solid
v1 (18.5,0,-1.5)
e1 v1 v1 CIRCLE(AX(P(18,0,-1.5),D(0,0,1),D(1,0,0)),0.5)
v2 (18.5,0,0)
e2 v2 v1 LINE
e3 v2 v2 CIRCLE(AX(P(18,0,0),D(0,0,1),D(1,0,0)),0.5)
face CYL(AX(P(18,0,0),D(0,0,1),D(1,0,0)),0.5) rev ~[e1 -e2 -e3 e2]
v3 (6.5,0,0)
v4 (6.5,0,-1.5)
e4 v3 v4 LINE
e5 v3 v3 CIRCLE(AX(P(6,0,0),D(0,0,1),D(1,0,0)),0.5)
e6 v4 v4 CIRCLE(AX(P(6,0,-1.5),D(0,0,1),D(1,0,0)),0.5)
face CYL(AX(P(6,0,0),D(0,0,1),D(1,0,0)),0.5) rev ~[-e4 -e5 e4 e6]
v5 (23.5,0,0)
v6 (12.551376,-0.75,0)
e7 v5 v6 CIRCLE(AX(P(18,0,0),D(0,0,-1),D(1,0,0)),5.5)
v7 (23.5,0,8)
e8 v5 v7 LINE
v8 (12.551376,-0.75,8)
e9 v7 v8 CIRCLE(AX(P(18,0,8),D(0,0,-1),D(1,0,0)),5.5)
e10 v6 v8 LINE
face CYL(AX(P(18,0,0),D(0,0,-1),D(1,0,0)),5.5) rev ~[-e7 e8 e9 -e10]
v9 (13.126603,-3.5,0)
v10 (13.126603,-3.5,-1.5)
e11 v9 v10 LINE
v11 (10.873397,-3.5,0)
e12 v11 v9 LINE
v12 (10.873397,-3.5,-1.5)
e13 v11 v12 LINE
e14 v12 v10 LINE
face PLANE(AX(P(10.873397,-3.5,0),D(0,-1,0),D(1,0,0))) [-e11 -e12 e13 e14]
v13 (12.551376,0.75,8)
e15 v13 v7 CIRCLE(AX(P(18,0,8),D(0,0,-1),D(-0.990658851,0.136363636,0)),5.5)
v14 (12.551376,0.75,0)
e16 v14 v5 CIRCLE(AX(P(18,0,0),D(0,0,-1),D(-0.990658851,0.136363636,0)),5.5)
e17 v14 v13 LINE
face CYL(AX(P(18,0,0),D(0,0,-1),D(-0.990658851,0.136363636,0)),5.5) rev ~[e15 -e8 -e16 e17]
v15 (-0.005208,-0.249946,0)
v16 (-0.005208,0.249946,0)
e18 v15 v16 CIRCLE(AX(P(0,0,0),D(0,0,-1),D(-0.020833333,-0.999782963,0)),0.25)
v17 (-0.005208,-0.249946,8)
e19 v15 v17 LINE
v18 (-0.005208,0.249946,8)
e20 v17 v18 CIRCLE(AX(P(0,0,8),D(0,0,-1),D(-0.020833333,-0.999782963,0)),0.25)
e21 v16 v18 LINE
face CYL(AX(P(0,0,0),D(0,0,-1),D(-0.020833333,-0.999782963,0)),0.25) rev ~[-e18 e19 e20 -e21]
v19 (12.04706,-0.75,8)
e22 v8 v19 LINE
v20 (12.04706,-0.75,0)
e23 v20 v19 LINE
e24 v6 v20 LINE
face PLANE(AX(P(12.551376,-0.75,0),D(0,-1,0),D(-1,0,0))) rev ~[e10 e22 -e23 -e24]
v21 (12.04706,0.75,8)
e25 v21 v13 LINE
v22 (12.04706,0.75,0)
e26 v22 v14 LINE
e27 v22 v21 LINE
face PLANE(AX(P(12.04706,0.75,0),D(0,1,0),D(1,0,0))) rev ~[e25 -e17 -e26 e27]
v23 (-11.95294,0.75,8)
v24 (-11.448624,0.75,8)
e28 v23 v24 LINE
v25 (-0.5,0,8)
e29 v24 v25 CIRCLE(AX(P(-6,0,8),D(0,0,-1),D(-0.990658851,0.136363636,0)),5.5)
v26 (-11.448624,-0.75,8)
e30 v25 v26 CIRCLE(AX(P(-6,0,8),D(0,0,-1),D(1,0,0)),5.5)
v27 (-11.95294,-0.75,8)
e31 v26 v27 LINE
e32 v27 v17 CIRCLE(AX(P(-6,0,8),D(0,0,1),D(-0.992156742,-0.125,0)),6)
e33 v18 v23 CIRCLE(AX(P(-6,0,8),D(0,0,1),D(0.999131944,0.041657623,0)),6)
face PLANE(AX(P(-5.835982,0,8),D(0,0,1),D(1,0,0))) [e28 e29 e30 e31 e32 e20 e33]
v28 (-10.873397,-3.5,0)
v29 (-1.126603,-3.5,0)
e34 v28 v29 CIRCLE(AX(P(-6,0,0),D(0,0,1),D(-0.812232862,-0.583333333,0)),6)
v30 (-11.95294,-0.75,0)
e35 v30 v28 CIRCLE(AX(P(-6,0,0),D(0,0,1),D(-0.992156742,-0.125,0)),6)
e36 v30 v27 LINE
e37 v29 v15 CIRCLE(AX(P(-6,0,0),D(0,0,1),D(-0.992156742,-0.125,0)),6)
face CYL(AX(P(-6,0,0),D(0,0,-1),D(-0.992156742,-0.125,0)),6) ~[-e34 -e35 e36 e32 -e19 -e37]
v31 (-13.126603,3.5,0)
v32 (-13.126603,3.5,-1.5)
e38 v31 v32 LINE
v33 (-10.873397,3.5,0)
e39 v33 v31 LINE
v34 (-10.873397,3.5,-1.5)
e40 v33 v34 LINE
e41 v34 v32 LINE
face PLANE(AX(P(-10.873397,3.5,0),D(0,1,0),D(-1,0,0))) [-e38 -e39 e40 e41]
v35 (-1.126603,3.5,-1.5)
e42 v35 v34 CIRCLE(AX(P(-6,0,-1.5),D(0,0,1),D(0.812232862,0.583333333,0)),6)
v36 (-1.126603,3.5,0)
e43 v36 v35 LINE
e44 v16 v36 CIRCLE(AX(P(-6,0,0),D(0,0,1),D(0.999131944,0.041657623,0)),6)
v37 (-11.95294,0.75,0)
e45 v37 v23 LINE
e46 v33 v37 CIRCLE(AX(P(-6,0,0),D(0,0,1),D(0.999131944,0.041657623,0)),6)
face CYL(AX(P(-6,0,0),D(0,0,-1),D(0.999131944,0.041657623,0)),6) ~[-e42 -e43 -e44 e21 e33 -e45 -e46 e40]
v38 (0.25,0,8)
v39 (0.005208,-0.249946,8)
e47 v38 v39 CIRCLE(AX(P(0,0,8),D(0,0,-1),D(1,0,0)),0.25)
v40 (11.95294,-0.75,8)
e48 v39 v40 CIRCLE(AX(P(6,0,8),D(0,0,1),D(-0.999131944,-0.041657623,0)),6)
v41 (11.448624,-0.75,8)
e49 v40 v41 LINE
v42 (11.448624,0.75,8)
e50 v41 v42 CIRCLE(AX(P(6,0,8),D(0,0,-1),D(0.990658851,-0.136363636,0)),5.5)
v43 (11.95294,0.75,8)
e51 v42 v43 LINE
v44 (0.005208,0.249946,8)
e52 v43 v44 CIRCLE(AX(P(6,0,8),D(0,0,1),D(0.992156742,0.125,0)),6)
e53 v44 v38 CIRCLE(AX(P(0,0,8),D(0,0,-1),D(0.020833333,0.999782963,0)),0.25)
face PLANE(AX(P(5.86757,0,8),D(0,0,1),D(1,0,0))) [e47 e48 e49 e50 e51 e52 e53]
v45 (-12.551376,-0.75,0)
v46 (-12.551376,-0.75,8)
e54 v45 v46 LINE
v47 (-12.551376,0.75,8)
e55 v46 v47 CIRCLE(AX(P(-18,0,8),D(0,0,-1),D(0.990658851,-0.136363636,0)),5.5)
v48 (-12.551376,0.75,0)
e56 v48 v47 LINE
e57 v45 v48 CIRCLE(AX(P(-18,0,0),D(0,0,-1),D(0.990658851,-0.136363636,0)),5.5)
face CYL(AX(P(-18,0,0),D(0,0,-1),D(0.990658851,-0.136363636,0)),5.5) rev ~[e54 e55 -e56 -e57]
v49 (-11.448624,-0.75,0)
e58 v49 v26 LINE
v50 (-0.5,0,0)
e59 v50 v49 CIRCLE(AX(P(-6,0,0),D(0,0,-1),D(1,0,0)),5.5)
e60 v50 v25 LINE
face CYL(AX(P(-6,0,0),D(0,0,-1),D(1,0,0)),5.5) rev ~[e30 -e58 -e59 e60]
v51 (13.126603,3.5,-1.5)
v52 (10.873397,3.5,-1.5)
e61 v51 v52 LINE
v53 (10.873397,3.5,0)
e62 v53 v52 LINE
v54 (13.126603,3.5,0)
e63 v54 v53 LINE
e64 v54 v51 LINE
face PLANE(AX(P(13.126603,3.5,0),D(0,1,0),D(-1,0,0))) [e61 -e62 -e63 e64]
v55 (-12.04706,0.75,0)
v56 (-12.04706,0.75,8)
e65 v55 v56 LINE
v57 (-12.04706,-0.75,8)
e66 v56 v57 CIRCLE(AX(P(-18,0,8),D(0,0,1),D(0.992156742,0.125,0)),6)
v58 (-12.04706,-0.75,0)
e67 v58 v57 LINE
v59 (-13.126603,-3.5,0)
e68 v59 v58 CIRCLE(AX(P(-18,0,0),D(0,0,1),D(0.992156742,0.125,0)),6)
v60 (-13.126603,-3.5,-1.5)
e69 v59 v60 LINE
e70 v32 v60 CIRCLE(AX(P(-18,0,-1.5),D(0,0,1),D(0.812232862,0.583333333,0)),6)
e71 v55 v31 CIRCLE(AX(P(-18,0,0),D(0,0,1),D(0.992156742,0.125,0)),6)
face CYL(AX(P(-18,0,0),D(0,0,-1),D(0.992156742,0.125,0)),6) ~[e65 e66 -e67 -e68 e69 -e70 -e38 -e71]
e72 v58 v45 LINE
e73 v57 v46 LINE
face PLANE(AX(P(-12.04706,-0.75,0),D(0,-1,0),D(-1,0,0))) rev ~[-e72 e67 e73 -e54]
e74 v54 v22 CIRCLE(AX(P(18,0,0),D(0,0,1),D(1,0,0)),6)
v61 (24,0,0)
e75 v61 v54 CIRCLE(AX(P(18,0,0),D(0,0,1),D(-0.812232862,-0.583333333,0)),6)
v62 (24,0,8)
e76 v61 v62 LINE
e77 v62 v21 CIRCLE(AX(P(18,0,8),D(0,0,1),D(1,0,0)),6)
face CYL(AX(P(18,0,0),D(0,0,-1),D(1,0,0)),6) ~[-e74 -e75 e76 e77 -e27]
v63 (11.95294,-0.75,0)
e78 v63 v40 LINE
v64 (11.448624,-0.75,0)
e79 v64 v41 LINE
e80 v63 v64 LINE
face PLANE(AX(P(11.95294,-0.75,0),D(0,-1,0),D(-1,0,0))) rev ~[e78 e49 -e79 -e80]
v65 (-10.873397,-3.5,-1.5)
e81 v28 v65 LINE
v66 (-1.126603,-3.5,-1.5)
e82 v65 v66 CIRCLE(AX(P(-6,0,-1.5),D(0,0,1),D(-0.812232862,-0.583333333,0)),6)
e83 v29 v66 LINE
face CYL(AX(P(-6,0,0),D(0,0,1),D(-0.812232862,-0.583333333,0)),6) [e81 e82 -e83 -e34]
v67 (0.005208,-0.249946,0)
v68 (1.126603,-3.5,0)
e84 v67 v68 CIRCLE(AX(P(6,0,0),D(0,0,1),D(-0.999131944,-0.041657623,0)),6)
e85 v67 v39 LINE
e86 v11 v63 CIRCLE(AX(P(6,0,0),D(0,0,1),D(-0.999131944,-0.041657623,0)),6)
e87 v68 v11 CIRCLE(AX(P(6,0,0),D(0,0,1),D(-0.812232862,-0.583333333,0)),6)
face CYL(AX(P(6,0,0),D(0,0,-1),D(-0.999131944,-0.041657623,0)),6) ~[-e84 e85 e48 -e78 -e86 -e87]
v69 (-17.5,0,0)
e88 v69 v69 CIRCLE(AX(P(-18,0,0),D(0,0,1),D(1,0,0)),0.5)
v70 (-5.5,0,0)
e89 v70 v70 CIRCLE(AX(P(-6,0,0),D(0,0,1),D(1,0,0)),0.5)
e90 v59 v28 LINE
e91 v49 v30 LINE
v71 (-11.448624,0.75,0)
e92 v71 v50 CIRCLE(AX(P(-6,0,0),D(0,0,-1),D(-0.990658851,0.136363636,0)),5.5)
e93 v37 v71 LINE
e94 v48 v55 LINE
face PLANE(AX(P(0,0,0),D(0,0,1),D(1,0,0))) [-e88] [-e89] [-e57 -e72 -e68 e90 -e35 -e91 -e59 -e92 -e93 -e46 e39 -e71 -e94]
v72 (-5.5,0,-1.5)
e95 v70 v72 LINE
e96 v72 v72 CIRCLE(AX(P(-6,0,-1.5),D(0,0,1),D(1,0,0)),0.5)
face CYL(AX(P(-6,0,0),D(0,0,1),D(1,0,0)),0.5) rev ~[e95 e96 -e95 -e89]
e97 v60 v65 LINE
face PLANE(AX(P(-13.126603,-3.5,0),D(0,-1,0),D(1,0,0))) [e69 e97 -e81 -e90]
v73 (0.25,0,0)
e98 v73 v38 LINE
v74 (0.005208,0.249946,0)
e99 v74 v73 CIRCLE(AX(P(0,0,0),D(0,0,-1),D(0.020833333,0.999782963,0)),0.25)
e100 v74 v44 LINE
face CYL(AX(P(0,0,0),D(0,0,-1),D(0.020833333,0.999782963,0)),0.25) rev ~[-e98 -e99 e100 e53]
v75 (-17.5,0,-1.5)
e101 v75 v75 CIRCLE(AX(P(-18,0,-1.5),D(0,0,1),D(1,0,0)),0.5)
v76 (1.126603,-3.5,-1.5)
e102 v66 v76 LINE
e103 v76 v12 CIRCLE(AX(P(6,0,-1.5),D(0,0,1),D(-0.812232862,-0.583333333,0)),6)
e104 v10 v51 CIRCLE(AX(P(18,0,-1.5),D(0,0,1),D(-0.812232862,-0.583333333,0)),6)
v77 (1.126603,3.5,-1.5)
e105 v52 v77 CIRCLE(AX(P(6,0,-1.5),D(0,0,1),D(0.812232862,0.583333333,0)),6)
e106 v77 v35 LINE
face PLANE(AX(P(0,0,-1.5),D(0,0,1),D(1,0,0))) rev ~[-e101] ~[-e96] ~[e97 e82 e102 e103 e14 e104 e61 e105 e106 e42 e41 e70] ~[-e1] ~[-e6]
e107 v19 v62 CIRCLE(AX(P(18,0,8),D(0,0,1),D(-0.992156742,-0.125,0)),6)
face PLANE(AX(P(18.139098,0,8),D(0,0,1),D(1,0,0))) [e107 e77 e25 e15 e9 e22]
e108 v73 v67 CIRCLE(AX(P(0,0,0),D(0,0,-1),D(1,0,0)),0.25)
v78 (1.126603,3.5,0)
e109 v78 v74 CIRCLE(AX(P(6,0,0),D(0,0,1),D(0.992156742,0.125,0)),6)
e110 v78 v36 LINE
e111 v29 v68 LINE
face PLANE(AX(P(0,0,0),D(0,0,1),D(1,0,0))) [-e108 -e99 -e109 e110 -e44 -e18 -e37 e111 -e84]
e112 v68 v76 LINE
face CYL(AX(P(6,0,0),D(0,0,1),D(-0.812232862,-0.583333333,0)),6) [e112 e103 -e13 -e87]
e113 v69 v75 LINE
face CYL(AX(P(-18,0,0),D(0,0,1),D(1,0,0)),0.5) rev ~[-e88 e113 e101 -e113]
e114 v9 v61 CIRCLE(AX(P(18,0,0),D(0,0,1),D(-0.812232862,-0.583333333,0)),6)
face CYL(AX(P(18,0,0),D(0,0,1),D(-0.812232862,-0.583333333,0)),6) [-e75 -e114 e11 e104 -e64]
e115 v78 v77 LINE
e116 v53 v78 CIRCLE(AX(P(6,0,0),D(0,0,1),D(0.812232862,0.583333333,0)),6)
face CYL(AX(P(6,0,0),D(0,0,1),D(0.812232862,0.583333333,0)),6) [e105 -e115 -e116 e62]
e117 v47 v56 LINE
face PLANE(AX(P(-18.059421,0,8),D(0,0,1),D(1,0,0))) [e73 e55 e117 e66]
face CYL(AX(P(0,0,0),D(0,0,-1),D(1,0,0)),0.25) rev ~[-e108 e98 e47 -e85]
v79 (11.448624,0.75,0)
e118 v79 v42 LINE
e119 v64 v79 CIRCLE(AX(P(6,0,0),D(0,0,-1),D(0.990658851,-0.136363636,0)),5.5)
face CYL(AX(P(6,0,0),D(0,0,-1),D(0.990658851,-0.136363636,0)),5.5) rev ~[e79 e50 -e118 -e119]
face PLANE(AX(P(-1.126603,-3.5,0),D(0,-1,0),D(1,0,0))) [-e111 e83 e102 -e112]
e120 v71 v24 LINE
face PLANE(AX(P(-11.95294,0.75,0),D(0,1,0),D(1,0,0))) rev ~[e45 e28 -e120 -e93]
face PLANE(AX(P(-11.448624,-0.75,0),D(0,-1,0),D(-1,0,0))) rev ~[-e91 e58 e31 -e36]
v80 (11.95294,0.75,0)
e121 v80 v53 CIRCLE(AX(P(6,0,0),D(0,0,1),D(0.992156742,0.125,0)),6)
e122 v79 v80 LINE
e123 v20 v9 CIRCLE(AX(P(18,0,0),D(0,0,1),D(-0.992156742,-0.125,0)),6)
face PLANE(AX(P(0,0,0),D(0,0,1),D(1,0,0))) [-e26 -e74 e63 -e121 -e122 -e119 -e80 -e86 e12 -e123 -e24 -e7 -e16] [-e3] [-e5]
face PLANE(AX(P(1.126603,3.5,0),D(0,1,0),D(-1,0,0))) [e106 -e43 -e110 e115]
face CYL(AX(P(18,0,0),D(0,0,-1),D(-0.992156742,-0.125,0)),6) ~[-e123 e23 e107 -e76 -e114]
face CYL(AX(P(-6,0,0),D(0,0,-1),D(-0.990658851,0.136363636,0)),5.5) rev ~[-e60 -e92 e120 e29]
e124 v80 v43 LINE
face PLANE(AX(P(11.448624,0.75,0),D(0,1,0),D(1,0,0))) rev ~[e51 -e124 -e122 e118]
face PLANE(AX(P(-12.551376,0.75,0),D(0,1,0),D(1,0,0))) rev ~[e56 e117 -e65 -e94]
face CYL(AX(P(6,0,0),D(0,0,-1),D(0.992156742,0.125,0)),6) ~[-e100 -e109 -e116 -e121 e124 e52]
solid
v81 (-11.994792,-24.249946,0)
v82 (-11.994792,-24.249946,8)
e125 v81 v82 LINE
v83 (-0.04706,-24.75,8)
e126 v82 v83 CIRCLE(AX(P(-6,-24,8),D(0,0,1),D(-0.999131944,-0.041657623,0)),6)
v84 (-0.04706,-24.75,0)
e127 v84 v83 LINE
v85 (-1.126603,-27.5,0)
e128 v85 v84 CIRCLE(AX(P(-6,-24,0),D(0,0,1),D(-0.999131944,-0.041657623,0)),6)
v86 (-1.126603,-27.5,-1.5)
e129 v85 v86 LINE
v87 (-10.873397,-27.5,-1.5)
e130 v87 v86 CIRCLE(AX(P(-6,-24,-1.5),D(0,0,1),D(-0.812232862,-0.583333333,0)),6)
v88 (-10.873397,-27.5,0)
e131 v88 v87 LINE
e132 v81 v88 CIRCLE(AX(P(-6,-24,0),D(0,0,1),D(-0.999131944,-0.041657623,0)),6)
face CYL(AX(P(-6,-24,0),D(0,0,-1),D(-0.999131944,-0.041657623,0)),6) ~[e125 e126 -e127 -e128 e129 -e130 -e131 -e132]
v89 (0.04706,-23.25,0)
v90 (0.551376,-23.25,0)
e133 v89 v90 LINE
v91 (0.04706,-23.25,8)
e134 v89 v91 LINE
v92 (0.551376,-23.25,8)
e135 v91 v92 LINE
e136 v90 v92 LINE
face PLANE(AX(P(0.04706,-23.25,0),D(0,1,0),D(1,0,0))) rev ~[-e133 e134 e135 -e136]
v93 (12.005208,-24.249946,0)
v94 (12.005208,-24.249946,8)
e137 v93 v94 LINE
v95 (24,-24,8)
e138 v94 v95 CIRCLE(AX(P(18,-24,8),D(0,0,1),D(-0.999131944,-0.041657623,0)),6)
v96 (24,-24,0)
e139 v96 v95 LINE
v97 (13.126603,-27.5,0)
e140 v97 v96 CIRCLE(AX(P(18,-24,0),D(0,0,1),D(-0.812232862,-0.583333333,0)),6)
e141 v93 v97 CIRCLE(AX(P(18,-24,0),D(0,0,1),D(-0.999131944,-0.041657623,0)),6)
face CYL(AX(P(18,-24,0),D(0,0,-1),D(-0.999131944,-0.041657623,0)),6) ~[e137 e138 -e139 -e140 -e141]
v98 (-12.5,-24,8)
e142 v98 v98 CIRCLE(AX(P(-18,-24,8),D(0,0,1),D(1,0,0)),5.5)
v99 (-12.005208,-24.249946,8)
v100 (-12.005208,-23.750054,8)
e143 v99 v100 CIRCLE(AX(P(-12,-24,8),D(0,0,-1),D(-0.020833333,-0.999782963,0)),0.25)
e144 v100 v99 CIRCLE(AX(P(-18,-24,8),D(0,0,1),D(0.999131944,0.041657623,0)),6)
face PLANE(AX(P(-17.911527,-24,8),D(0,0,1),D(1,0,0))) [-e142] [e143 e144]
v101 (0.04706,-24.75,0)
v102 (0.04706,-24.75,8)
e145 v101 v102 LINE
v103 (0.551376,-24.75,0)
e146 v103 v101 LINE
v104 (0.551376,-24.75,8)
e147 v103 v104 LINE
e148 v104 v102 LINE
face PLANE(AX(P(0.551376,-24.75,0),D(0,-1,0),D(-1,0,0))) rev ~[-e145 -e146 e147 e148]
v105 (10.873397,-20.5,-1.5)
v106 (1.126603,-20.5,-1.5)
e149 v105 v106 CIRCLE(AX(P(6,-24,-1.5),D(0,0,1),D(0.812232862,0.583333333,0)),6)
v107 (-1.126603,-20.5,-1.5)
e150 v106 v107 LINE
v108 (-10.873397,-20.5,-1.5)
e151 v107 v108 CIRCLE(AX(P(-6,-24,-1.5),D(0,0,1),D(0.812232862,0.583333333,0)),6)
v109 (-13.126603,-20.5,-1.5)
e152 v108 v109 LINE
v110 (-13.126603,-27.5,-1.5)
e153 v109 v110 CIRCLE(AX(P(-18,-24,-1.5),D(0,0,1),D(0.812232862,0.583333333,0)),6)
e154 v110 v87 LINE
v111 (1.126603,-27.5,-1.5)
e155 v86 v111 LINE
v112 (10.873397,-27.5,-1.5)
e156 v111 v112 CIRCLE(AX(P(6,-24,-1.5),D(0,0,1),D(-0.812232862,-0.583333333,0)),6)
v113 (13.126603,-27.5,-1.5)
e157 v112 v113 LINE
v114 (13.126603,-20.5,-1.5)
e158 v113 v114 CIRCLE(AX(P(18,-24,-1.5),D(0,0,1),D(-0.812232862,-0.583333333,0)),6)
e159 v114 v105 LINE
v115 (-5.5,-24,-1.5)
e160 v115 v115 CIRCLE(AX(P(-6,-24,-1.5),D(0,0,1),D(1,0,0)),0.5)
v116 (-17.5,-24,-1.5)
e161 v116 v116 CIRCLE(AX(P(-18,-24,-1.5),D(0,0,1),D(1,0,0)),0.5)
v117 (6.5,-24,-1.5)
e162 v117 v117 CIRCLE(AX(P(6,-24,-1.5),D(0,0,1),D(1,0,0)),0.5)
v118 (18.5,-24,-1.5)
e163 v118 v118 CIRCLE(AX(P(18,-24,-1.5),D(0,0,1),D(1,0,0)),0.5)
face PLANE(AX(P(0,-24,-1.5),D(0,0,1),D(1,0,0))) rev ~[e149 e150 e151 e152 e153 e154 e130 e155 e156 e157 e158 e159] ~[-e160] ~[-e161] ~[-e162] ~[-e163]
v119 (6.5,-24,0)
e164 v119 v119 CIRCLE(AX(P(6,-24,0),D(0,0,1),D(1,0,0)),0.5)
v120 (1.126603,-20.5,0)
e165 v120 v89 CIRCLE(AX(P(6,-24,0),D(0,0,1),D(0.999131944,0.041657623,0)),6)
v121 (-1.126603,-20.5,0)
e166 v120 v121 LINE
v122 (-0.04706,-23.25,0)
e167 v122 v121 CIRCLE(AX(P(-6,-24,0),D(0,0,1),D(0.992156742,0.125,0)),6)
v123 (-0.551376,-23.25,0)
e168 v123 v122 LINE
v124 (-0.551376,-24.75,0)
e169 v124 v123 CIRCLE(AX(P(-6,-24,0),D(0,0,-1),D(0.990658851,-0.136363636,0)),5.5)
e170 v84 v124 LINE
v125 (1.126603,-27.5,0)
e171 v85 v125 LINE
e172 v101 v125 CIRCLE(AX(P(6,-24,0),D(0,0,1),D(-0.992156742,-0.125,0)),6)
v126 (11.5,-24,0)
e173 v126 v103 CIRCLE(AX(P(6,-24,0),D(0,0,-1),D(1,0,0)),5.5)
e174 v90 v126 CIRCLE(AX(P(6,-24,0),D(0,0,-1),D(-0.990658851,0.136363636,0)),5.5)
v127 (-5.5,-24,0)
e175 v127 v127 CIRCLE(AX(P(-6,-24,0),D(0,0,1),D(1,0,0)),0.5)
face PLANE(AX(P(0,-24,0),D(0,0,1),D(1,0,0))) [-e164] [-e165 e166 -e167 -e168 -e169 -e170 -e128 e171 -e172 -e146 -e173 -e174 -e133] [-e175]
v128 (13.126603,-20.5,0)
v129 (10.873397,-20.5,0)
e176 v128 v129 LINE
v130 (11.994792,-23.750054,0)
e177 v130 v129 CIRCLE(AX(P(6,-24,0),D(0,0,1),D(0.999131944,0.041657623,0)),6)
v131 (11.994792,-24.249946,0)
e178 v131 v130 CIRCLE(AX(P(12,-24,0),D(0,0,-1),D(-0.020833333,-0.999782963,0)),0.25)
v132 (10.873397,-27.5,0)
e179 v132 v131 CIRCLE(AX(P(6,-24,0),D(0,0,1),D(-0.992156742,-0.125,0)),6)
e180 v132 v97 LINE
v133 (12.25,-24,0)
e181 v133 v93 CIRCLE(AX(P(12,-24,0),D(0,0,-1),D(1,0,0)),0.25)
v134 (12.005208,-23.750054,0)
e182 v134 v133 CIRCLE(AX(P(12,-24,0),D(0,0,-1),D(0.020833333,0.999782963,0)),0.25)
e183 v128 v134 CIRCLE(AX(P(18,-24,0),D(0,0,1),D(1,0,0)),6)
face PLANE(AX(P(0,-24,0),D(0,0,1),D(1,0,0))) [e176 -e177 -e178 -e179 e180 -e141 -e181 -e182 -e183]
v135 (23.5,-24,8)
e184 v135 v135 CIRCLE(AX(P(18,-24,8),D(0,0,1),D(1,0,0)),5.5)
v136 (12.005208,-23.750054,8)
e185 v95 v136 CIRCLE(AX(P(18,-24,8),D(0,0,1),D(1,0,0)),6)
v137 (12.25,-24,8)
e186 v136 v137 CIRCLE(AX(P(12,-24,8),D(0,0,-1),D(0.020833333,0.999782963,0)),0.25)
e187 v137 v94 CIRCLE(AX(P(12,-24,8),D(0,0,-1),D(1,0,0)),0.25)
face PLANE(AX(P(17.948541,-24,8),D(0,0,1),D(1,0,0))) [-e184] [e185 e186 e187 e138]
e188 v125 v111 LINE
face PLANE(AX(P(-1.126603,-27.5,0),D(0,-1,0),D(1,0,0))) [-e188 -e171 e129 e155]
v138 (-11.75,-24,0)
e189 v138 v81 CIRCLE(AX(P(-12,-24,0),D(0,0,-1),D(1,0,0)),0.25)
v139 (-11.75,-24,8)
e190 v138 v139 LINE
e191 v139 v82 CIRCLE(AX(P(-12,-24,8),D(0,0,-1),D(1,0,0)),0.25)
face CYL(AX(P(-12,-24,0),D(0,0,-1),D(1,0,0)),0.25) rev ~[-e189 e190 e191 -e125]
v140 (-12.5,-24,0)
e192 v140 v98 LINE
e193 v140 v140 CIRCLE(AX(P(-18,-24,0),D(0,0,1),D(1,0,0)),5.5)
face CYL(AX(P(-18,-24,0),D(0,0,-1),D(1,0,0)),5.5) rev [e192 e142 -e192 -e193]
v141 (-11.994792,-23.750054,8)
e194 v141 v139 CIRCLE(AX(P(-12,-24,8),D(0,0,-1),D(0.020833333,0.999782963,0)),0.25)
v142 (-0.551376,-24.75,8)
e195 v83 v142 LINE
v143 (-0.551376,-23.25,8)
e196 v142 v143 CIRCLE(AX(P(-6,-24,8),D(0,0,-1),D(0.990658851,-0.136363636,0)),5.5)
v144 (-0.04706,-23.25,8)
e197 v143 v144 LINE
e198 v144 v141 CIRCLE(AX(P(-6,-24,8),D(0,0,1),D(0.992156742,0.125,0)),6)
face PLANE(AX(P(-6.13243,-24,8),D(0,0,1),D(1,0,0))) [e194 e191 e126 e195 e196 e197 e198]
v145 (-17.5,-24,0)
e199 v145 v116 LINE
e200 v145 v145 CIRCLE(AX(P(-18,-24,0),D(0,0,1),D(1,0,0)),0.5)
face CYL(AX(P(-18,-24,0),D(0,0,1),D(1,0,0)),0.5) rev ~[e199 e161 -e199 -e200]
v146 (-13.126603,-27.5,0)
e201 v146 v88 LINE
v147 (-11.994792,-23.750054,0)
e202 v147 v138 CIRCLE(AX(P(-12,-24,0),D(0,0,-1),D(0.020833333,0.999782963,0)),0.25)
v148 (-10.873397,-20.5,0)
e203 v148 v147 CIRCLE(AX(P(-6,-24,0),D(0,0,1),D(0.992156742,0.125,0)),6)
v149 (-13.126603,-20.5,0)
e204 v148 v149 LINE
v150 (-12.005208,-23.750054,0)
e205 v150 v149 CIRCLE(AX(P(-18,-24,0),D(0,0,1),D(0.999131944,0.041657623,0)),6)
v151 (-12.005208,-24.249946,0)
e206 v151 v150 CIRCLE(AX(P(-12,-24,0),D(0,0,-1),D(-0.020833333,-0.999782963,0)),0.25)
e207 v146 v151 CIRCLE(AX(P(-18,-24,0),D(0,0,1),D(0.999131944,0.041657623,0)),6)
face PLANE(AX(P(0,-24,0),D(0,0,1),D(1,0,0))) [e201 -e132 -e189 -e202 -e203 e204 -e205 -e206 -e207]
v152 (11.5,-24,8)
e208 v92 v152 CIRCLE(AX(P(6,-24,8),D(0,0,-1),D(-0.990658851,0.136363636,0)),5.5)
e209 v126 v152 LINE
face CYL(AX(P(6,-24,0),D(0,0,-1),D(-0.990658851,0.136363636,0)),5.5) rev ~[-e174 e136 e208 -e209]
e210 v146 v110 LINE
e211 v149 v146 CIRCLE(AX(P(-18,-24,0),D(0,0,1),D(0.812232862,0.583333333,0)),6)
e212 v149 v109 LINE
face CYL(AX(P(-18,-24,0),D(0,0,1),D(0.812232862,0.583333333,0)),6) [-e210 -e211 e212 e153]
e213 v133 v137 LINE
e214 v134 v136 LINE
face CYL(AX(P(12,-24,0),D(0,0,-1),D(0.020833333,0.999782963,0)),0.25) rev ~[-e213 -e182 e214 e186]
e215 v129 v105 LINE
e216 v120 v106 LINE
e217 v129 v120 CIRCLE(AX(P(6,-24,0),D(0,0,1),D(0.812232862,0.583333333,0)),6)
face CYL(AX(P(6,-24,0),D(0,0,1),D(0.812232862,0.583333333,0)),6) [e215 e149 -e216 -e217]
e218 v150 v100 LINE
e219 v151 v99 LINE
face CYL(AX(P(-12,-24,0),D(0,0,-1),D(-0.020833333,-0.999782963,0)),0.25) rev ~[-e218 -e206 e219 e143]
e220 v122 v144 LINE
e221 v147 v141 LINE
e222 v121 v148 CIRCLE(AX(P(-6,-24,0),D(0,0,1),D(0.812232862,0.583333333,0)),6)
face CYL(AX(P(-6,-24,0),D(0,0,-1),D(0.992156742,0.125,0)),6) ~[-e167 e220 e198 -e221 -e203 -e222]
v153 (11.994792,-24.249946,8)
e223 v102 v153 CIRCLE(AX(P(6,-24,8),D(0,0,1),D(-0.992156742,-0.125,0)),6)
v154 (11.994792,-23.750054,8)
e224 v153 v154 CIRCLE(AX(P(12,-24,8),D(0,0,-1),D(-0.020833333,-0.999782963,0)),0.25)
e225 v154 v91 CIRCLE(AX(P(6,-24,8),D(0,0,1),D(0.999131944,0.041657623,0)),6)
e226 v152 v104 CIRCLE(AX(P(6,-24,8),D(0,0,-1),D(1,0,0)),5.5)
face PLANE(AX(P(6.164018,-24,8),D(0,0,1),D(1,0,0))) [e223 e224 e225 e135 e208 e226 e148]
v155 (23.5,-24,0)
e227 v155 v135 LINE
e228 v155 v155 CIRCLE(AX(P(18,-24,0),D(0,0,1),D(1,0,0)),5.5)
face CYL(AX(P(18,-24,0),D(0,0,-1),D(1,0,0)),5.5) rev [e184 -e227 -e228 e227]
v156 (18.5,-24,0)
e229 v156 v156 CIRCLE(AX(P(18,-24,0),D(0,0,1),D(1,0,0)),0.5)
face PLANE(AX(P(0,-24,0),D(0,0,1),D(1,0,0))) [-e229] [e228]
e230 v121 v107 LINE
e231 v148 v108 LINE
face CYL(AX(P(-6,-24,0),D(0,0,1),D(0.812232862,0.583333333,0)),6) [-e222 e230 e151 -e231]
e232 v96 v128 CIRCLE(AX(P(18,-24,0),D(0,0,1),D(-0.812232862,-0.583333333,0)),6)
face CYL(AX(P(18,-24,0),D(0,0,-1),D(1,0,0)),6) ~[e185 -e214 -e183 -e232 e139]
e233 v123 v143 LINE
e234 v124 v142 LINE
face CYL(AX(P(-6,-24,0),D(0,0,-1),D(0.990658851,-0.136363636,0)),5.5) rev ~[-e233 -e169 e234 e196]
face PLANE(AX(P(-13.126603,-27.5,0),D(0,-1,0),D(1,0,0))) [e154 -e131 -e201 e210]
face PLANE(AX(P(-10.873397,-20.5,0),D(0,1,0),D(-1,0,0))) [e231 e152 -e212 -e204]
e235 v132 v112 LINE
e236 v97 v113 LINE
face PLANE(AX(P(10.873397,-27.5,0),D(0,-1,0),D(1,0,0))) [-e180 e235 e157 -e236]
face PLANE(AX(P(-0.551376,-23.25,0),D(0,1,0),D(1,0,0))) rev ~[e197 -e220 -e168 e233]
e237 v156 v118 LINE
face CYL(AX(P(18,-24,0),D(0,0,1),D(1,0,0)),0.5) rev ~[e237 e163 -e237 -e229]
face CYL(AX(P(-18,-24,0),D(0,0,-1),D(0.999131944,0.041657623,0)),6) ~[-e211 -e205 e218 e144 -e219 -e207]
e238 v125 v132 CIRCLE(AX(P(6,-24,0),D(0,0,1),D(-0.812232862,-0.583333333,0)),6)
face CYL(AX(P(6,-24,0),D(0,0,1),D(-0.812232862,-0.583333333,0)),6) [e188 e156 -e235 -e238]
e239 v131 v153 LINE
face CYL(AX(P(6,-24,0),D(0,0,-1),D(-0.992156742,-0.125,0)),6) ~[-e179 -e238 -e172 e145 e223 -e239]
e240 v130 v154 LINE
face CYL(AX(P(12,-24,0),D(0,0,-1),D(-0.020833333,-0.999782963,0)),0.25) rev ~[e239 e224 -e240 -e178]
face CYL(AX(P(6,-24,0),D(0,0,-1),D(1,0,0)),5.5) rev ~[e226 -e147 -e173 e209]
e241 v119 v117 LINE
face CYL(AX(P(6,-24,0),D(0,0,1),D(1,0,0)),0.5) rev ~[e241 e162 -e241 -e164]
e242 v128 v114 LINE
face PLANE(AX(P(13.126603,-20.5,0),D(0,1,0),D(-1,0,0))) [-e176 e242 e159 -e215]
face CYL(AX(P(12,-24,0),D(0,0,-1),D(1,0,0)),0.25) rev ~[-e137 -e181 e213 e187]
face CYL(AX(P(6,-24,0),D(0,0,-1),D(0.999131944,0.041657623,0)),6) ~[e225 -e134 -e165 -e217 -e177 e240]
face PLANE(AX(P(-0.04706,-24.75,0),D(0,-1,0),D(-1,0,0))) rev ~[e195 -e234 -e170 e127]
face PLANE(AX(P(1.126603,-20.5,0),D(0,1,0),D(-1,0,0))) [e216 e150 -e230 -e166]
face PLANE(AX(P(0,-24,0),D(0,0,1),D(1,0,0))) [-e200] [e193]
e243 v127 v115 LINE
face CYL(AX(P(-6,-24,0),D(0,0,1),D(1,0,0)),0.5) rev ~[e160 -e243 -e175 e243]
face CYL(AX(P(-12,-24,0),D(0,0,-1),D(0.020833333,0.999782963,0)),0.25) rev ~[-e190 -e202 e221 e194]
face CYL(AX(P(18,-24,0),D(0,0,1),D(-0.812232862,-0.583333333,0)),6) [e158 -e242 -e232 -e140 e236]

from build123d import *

# Parameters (mm, degrees)
F2_DEPTH = 1.5
F3_DEPTH = 8
F4_DEPTH = 1.5
F0_R     = 5.5
F5_DEPTH = 8
F0_R_2   = 0.5
F6_DEPTH = 25
F7_DEPTH = 25


with BuildPart() as f2:
    # F1 (on Top) → F2 (new body)
    with BuildSketch(Plane.XY):
        with BuildLine():
            Line((-10.8733971724, 3.5), (-13.1266028276, 3.5))
            ThreePointArc((-13.1266028276, 3.5), (-24, 0), (-13.1266028276, -3.5))
            Line((-13.1266028276, -3.5), (-10.8733971724, -3.5))
            ThreePointArc((-10.8733971724, -3.5), (-6, -6), (-1.1266028276, -3.5))
            Line((-1.1266028276, -3.5), (1.1266028276, -3.5))
            ThreePointArc((1.1266028276, -3.5), (6, -6), (10.8733971724, -3.5))
            Line((10.8733971724, -3.5), (13.1266028276, -3.5))
            ThreePointArc((13.1266028276, -3.5), (24, 0), (13.1266028276, 3.5))
            Line((13.1266028276, 3.5), (10.8733971724, 3.5))
            ThreePointArc((10.8733971724, 3.5), (6, 6), (1.1266028276, 3.5))
            Line((1.1266028276, 3.5), (-1.1266028276, 3.5))
            ThreePointArc((-1.1266028276, 3.5), (-6, 6), (-10.8733971724, 3.5))
        make_face()
    extrude(amount=-F2_DEPTH)

    # F0 (on Top) → F3 (join)
    with BuildSketch(Plane.XY):
        with BuildLine():
            Line((-12.5513763206, 0.75), (-12.0470595501, 0.75))
            ThreePointArc((-12.0470595501, 0.75), (-24, 0), (-12.0470595501, -0.75))
            Line((-12.0470595501, -0.75), (-12.5513763206, -0.75))
            ThreePointArc((-12.5513763206, -0.75), (-23.5, 0), (-12.5513763206, 0.75))
        make_face()
        with BuildLine():
            ThreePointArc((-0.0052083333, 0.2499457406), (-5.7490987312, 5.9947517508), (-11.9529404499, 0.75))
            Line((-11.9529404499, 0.75), (-11.4486236794, 0.75))
            ThreePointArc((-11.4486236794, 0.75), (-5.6241211876, 5.4871408874), (-0.5, 0))
            ThreePointArc((-0.5, 0), (-5.6241211876, -5.4871408874), (-11.4486236794, -0.75))
            Line((-11.4486236794, -0.75), (-11.9529404499, -0.75))
            ThreePointArc((-11.9529404499, -0.75), (-5.7490987312, -5.9947517508), (-0.0052083333, -0.2499457406))
            ThreePointArc((-0.0052083333, -0.2499457406), (-0.25, 0), (-0.0052083333, 0.2499457406))
        make_face()
        with BuildLine():
            ThreePointArc((11.9529404499, 0.75), (5.7490987312, 5.9947517508), (0.0052083333, 0.2499457406))
            ThreePointArc((0.0052083333, 0.2499457406), (0.1786086271, 0.1749255794), (0.25, 0))
            ThreePointArc((0.25, 0), (0.1786086271, -0.1749255794), (0.0052083333, -0.2499457406))
            ThreePointArc((0.0052083333, -0.2499457406), (5.7490987312, -5.9947517508), (11.9529404499, -0.75))
            Line((11.9529404499, -0.75), (11.4486236794, -0.75))
            ThreePointArc((11.4486236794, -0.75), (0.5, 0), (11.4486236794, 0.75))
            Line((11.4486236794, 0.75), (11.9529404499, 0.75))
        make_face()
        with BuildLine():
            ThreePointArc((24, 0), (18.3757374753, 5.9882235554), (12.0470595501, 0.75))
            Line((12.0470595501, 0.75), (12.5513763206, 0.75))
            ThreePointArc((12.5513763206, 0.75), (18.3758788124, 5.4871408874), (23.5, 0))
            ThreePointArc((23.5, 0), (18.3758788124, -5.4871408874), (12.5513763206, -0.75))
            Line((12.5513763206, -0.75), (12.0470595501, -0.75))
            ThreePointArc((12.0470595501, -0.75), (18.3757374753, -5.9882235554), (24, 0))
        make_face()
    extrude(amount=F3_DEPTH)

    # F0 (on Top) → F7 (cut)
    with BuildSketch(Plane.XY):
        with Locations((18, 0)):
            Circle(F0_R_2)
        with Locations((6, 0)):
            Circle(F0_R_2)
        with Locations((-6, 0)):
            Circle(F0_R_2)
        with Locations((-18, 0)):
            Circle(F0_R_2)
    extrude(amount=-F7_DEPTH, mode=Mode.SUBTRACT)


with BuildPart() as f4:
    # F1 (on Top) → F4 (new body)
    with BuildSketch(Plane.XY):
        with BuildLine():
            Line((-10.8733971724, -20.5), (-13.1266028276, -20.5))
            ThreePointArc((-13.1266028276, -20.5), (-24, -24), (-13.1266028276, -27.5))
            Line((-13.1266028276, -27.5), (-10.8733971724, -27.5))
            ThreePointArc((-10.8733971724, -27.5), (-6, -30), (-1.1266028276, -27.5))
            Line((-1.1266028276, -27.5), (1.1266028276, -27.5))
            ThreePointArc((1.1266028276, -27.5), (6, -30), (10.8733971724, -27.5))
            Line((10.8733971724, -27.5), (13.1266028276, -27.5))
            ThreePointArc((13.1266028276, -27.5), (24, -24), (13.1266028276, -20.5))
            Line((13.1266028276, -20.5), (10.8733971724, -20.5))
            ThreePointArc((10.8733971724, -20.5), (6, -18), (1.1266028276, -20.5))
            Line((1.1266028276, -20.5), (-1.1266028276, -20.5))
            ThreePointArc((-1.1266028276, -20.5), (-6, -18), (-10.8733971724, -20.5))
        make_face()
    extrude(amount=-F4_DEPTH)

    # F0 (on Top) → F5 (join)
    with BuildSketch(Plane.XY):
        with BuildLine():
            ThreePointArc((-12.0052083333, -24.2499457406), (-12.25, -24), (-12.0052083333, -23.7500542594))
            ThreePointArc((-12.0052083333, -23.7500542594), (-24, -24), (-12.0052083333, -24.2499457406))
        make_face()
        with Locations((-18, -24)):
            Circle(F0_R, mode=Mode.SUBTRACT)
        with BuildLine():
            ThreePointArc((-0.0470595501, -23.25), (-6.2509012688, -18.0052482492), (-11.9947916667, -23.7500542594))
            ThreePointArc((-11.9947916667, -23.7500542594), (-11.8213913729, -23.8250744206), (-11.75, -24))
            ThreePointArc((-11.75, -24), (-11.8213913729, -24.1749255794), (-11.9947916667, -24.2499457406))
            ThreePointArc((-11.9947916667, -24.2499457406), (-6.2509012688, -29.9947517508), (-0.0470595501, -24.75))
            Line((-0.0470595501, -24.75), (-0.5513763206, -24.75))
            ThreePointArc((-0.5513763206, -24.75), (-11.5, -24), (-0.5513763206, -23.25))
            Line((-0.5513763206, -23.25), (-0.0470595501, -23.25))
        make_face()
        with BuildLine():
            ThreePointArc((11.9947916667, -23.7500542594), (6.2509012688, -18.0052482492), (0.0470595501, -23.25))
            Line((0.0470595501, -23.25), (0.5513763206, -23.25))
            ThreePointArc((0.5513763206, -23.25), (6.3758788124, -18.5128591126), (11.5, -24))
            ThreePointArc((11.5, -24), (6.3758788124, -29.4871408874), (0.5513763206, -24.75))
            Line((0.5513763206, -24.75), (0.0470595501, -24.75))
            ThreePointArc((0.0470595501, -24.75), (6.2509012688, -29.9947517508), (11.9947916667, -24.2499457406))
            ThreePointArc((11.9947916667, -24.2499457406), (11.75, -24), (11.9947916667, -23.7500542594))
        make_face()
        with BuildLine():
            ThreePointArc((24, -24), (18.125, -18.0013022246), (12.0052083333, -23.7500542594))
            ThreePointArc((12.0052083333, -23.7500542594), (12.1786086271, -23.8250744206), (12.25, -24))
            ThreePointArc((12.25, -24), (12.1786086271, -24.1749255794), (12.0052083333, -24.2499457406))
            ThreePointArc((12.0052083333, -24.2499457406), (18.125, -29.9986977754), (24, -24))
        make_face()
        with Locations((18, -24)):
            Circle(F0_R, mode=Mode.SUBTRACT)
    extrude(amount=F5_DEPTH)

    # F0 (on Top) → F6 (cut)
    with BuildSketch(Plane.XY):
        with Locations((18, -24)):
            Circle(F0_R_2)
        with Locations((-18, -24)):
            Circle(F0_R_2)
        with Locations((6, -24)):
            Circle(F0_R_2)
        with Locations((-6, -24)):
            Circle(F0_R_2)
    extrude(amount=-F6_DEPTH, mode=Mode.SUBTRACT)


solid = Compound([f2.part, f4.part])
